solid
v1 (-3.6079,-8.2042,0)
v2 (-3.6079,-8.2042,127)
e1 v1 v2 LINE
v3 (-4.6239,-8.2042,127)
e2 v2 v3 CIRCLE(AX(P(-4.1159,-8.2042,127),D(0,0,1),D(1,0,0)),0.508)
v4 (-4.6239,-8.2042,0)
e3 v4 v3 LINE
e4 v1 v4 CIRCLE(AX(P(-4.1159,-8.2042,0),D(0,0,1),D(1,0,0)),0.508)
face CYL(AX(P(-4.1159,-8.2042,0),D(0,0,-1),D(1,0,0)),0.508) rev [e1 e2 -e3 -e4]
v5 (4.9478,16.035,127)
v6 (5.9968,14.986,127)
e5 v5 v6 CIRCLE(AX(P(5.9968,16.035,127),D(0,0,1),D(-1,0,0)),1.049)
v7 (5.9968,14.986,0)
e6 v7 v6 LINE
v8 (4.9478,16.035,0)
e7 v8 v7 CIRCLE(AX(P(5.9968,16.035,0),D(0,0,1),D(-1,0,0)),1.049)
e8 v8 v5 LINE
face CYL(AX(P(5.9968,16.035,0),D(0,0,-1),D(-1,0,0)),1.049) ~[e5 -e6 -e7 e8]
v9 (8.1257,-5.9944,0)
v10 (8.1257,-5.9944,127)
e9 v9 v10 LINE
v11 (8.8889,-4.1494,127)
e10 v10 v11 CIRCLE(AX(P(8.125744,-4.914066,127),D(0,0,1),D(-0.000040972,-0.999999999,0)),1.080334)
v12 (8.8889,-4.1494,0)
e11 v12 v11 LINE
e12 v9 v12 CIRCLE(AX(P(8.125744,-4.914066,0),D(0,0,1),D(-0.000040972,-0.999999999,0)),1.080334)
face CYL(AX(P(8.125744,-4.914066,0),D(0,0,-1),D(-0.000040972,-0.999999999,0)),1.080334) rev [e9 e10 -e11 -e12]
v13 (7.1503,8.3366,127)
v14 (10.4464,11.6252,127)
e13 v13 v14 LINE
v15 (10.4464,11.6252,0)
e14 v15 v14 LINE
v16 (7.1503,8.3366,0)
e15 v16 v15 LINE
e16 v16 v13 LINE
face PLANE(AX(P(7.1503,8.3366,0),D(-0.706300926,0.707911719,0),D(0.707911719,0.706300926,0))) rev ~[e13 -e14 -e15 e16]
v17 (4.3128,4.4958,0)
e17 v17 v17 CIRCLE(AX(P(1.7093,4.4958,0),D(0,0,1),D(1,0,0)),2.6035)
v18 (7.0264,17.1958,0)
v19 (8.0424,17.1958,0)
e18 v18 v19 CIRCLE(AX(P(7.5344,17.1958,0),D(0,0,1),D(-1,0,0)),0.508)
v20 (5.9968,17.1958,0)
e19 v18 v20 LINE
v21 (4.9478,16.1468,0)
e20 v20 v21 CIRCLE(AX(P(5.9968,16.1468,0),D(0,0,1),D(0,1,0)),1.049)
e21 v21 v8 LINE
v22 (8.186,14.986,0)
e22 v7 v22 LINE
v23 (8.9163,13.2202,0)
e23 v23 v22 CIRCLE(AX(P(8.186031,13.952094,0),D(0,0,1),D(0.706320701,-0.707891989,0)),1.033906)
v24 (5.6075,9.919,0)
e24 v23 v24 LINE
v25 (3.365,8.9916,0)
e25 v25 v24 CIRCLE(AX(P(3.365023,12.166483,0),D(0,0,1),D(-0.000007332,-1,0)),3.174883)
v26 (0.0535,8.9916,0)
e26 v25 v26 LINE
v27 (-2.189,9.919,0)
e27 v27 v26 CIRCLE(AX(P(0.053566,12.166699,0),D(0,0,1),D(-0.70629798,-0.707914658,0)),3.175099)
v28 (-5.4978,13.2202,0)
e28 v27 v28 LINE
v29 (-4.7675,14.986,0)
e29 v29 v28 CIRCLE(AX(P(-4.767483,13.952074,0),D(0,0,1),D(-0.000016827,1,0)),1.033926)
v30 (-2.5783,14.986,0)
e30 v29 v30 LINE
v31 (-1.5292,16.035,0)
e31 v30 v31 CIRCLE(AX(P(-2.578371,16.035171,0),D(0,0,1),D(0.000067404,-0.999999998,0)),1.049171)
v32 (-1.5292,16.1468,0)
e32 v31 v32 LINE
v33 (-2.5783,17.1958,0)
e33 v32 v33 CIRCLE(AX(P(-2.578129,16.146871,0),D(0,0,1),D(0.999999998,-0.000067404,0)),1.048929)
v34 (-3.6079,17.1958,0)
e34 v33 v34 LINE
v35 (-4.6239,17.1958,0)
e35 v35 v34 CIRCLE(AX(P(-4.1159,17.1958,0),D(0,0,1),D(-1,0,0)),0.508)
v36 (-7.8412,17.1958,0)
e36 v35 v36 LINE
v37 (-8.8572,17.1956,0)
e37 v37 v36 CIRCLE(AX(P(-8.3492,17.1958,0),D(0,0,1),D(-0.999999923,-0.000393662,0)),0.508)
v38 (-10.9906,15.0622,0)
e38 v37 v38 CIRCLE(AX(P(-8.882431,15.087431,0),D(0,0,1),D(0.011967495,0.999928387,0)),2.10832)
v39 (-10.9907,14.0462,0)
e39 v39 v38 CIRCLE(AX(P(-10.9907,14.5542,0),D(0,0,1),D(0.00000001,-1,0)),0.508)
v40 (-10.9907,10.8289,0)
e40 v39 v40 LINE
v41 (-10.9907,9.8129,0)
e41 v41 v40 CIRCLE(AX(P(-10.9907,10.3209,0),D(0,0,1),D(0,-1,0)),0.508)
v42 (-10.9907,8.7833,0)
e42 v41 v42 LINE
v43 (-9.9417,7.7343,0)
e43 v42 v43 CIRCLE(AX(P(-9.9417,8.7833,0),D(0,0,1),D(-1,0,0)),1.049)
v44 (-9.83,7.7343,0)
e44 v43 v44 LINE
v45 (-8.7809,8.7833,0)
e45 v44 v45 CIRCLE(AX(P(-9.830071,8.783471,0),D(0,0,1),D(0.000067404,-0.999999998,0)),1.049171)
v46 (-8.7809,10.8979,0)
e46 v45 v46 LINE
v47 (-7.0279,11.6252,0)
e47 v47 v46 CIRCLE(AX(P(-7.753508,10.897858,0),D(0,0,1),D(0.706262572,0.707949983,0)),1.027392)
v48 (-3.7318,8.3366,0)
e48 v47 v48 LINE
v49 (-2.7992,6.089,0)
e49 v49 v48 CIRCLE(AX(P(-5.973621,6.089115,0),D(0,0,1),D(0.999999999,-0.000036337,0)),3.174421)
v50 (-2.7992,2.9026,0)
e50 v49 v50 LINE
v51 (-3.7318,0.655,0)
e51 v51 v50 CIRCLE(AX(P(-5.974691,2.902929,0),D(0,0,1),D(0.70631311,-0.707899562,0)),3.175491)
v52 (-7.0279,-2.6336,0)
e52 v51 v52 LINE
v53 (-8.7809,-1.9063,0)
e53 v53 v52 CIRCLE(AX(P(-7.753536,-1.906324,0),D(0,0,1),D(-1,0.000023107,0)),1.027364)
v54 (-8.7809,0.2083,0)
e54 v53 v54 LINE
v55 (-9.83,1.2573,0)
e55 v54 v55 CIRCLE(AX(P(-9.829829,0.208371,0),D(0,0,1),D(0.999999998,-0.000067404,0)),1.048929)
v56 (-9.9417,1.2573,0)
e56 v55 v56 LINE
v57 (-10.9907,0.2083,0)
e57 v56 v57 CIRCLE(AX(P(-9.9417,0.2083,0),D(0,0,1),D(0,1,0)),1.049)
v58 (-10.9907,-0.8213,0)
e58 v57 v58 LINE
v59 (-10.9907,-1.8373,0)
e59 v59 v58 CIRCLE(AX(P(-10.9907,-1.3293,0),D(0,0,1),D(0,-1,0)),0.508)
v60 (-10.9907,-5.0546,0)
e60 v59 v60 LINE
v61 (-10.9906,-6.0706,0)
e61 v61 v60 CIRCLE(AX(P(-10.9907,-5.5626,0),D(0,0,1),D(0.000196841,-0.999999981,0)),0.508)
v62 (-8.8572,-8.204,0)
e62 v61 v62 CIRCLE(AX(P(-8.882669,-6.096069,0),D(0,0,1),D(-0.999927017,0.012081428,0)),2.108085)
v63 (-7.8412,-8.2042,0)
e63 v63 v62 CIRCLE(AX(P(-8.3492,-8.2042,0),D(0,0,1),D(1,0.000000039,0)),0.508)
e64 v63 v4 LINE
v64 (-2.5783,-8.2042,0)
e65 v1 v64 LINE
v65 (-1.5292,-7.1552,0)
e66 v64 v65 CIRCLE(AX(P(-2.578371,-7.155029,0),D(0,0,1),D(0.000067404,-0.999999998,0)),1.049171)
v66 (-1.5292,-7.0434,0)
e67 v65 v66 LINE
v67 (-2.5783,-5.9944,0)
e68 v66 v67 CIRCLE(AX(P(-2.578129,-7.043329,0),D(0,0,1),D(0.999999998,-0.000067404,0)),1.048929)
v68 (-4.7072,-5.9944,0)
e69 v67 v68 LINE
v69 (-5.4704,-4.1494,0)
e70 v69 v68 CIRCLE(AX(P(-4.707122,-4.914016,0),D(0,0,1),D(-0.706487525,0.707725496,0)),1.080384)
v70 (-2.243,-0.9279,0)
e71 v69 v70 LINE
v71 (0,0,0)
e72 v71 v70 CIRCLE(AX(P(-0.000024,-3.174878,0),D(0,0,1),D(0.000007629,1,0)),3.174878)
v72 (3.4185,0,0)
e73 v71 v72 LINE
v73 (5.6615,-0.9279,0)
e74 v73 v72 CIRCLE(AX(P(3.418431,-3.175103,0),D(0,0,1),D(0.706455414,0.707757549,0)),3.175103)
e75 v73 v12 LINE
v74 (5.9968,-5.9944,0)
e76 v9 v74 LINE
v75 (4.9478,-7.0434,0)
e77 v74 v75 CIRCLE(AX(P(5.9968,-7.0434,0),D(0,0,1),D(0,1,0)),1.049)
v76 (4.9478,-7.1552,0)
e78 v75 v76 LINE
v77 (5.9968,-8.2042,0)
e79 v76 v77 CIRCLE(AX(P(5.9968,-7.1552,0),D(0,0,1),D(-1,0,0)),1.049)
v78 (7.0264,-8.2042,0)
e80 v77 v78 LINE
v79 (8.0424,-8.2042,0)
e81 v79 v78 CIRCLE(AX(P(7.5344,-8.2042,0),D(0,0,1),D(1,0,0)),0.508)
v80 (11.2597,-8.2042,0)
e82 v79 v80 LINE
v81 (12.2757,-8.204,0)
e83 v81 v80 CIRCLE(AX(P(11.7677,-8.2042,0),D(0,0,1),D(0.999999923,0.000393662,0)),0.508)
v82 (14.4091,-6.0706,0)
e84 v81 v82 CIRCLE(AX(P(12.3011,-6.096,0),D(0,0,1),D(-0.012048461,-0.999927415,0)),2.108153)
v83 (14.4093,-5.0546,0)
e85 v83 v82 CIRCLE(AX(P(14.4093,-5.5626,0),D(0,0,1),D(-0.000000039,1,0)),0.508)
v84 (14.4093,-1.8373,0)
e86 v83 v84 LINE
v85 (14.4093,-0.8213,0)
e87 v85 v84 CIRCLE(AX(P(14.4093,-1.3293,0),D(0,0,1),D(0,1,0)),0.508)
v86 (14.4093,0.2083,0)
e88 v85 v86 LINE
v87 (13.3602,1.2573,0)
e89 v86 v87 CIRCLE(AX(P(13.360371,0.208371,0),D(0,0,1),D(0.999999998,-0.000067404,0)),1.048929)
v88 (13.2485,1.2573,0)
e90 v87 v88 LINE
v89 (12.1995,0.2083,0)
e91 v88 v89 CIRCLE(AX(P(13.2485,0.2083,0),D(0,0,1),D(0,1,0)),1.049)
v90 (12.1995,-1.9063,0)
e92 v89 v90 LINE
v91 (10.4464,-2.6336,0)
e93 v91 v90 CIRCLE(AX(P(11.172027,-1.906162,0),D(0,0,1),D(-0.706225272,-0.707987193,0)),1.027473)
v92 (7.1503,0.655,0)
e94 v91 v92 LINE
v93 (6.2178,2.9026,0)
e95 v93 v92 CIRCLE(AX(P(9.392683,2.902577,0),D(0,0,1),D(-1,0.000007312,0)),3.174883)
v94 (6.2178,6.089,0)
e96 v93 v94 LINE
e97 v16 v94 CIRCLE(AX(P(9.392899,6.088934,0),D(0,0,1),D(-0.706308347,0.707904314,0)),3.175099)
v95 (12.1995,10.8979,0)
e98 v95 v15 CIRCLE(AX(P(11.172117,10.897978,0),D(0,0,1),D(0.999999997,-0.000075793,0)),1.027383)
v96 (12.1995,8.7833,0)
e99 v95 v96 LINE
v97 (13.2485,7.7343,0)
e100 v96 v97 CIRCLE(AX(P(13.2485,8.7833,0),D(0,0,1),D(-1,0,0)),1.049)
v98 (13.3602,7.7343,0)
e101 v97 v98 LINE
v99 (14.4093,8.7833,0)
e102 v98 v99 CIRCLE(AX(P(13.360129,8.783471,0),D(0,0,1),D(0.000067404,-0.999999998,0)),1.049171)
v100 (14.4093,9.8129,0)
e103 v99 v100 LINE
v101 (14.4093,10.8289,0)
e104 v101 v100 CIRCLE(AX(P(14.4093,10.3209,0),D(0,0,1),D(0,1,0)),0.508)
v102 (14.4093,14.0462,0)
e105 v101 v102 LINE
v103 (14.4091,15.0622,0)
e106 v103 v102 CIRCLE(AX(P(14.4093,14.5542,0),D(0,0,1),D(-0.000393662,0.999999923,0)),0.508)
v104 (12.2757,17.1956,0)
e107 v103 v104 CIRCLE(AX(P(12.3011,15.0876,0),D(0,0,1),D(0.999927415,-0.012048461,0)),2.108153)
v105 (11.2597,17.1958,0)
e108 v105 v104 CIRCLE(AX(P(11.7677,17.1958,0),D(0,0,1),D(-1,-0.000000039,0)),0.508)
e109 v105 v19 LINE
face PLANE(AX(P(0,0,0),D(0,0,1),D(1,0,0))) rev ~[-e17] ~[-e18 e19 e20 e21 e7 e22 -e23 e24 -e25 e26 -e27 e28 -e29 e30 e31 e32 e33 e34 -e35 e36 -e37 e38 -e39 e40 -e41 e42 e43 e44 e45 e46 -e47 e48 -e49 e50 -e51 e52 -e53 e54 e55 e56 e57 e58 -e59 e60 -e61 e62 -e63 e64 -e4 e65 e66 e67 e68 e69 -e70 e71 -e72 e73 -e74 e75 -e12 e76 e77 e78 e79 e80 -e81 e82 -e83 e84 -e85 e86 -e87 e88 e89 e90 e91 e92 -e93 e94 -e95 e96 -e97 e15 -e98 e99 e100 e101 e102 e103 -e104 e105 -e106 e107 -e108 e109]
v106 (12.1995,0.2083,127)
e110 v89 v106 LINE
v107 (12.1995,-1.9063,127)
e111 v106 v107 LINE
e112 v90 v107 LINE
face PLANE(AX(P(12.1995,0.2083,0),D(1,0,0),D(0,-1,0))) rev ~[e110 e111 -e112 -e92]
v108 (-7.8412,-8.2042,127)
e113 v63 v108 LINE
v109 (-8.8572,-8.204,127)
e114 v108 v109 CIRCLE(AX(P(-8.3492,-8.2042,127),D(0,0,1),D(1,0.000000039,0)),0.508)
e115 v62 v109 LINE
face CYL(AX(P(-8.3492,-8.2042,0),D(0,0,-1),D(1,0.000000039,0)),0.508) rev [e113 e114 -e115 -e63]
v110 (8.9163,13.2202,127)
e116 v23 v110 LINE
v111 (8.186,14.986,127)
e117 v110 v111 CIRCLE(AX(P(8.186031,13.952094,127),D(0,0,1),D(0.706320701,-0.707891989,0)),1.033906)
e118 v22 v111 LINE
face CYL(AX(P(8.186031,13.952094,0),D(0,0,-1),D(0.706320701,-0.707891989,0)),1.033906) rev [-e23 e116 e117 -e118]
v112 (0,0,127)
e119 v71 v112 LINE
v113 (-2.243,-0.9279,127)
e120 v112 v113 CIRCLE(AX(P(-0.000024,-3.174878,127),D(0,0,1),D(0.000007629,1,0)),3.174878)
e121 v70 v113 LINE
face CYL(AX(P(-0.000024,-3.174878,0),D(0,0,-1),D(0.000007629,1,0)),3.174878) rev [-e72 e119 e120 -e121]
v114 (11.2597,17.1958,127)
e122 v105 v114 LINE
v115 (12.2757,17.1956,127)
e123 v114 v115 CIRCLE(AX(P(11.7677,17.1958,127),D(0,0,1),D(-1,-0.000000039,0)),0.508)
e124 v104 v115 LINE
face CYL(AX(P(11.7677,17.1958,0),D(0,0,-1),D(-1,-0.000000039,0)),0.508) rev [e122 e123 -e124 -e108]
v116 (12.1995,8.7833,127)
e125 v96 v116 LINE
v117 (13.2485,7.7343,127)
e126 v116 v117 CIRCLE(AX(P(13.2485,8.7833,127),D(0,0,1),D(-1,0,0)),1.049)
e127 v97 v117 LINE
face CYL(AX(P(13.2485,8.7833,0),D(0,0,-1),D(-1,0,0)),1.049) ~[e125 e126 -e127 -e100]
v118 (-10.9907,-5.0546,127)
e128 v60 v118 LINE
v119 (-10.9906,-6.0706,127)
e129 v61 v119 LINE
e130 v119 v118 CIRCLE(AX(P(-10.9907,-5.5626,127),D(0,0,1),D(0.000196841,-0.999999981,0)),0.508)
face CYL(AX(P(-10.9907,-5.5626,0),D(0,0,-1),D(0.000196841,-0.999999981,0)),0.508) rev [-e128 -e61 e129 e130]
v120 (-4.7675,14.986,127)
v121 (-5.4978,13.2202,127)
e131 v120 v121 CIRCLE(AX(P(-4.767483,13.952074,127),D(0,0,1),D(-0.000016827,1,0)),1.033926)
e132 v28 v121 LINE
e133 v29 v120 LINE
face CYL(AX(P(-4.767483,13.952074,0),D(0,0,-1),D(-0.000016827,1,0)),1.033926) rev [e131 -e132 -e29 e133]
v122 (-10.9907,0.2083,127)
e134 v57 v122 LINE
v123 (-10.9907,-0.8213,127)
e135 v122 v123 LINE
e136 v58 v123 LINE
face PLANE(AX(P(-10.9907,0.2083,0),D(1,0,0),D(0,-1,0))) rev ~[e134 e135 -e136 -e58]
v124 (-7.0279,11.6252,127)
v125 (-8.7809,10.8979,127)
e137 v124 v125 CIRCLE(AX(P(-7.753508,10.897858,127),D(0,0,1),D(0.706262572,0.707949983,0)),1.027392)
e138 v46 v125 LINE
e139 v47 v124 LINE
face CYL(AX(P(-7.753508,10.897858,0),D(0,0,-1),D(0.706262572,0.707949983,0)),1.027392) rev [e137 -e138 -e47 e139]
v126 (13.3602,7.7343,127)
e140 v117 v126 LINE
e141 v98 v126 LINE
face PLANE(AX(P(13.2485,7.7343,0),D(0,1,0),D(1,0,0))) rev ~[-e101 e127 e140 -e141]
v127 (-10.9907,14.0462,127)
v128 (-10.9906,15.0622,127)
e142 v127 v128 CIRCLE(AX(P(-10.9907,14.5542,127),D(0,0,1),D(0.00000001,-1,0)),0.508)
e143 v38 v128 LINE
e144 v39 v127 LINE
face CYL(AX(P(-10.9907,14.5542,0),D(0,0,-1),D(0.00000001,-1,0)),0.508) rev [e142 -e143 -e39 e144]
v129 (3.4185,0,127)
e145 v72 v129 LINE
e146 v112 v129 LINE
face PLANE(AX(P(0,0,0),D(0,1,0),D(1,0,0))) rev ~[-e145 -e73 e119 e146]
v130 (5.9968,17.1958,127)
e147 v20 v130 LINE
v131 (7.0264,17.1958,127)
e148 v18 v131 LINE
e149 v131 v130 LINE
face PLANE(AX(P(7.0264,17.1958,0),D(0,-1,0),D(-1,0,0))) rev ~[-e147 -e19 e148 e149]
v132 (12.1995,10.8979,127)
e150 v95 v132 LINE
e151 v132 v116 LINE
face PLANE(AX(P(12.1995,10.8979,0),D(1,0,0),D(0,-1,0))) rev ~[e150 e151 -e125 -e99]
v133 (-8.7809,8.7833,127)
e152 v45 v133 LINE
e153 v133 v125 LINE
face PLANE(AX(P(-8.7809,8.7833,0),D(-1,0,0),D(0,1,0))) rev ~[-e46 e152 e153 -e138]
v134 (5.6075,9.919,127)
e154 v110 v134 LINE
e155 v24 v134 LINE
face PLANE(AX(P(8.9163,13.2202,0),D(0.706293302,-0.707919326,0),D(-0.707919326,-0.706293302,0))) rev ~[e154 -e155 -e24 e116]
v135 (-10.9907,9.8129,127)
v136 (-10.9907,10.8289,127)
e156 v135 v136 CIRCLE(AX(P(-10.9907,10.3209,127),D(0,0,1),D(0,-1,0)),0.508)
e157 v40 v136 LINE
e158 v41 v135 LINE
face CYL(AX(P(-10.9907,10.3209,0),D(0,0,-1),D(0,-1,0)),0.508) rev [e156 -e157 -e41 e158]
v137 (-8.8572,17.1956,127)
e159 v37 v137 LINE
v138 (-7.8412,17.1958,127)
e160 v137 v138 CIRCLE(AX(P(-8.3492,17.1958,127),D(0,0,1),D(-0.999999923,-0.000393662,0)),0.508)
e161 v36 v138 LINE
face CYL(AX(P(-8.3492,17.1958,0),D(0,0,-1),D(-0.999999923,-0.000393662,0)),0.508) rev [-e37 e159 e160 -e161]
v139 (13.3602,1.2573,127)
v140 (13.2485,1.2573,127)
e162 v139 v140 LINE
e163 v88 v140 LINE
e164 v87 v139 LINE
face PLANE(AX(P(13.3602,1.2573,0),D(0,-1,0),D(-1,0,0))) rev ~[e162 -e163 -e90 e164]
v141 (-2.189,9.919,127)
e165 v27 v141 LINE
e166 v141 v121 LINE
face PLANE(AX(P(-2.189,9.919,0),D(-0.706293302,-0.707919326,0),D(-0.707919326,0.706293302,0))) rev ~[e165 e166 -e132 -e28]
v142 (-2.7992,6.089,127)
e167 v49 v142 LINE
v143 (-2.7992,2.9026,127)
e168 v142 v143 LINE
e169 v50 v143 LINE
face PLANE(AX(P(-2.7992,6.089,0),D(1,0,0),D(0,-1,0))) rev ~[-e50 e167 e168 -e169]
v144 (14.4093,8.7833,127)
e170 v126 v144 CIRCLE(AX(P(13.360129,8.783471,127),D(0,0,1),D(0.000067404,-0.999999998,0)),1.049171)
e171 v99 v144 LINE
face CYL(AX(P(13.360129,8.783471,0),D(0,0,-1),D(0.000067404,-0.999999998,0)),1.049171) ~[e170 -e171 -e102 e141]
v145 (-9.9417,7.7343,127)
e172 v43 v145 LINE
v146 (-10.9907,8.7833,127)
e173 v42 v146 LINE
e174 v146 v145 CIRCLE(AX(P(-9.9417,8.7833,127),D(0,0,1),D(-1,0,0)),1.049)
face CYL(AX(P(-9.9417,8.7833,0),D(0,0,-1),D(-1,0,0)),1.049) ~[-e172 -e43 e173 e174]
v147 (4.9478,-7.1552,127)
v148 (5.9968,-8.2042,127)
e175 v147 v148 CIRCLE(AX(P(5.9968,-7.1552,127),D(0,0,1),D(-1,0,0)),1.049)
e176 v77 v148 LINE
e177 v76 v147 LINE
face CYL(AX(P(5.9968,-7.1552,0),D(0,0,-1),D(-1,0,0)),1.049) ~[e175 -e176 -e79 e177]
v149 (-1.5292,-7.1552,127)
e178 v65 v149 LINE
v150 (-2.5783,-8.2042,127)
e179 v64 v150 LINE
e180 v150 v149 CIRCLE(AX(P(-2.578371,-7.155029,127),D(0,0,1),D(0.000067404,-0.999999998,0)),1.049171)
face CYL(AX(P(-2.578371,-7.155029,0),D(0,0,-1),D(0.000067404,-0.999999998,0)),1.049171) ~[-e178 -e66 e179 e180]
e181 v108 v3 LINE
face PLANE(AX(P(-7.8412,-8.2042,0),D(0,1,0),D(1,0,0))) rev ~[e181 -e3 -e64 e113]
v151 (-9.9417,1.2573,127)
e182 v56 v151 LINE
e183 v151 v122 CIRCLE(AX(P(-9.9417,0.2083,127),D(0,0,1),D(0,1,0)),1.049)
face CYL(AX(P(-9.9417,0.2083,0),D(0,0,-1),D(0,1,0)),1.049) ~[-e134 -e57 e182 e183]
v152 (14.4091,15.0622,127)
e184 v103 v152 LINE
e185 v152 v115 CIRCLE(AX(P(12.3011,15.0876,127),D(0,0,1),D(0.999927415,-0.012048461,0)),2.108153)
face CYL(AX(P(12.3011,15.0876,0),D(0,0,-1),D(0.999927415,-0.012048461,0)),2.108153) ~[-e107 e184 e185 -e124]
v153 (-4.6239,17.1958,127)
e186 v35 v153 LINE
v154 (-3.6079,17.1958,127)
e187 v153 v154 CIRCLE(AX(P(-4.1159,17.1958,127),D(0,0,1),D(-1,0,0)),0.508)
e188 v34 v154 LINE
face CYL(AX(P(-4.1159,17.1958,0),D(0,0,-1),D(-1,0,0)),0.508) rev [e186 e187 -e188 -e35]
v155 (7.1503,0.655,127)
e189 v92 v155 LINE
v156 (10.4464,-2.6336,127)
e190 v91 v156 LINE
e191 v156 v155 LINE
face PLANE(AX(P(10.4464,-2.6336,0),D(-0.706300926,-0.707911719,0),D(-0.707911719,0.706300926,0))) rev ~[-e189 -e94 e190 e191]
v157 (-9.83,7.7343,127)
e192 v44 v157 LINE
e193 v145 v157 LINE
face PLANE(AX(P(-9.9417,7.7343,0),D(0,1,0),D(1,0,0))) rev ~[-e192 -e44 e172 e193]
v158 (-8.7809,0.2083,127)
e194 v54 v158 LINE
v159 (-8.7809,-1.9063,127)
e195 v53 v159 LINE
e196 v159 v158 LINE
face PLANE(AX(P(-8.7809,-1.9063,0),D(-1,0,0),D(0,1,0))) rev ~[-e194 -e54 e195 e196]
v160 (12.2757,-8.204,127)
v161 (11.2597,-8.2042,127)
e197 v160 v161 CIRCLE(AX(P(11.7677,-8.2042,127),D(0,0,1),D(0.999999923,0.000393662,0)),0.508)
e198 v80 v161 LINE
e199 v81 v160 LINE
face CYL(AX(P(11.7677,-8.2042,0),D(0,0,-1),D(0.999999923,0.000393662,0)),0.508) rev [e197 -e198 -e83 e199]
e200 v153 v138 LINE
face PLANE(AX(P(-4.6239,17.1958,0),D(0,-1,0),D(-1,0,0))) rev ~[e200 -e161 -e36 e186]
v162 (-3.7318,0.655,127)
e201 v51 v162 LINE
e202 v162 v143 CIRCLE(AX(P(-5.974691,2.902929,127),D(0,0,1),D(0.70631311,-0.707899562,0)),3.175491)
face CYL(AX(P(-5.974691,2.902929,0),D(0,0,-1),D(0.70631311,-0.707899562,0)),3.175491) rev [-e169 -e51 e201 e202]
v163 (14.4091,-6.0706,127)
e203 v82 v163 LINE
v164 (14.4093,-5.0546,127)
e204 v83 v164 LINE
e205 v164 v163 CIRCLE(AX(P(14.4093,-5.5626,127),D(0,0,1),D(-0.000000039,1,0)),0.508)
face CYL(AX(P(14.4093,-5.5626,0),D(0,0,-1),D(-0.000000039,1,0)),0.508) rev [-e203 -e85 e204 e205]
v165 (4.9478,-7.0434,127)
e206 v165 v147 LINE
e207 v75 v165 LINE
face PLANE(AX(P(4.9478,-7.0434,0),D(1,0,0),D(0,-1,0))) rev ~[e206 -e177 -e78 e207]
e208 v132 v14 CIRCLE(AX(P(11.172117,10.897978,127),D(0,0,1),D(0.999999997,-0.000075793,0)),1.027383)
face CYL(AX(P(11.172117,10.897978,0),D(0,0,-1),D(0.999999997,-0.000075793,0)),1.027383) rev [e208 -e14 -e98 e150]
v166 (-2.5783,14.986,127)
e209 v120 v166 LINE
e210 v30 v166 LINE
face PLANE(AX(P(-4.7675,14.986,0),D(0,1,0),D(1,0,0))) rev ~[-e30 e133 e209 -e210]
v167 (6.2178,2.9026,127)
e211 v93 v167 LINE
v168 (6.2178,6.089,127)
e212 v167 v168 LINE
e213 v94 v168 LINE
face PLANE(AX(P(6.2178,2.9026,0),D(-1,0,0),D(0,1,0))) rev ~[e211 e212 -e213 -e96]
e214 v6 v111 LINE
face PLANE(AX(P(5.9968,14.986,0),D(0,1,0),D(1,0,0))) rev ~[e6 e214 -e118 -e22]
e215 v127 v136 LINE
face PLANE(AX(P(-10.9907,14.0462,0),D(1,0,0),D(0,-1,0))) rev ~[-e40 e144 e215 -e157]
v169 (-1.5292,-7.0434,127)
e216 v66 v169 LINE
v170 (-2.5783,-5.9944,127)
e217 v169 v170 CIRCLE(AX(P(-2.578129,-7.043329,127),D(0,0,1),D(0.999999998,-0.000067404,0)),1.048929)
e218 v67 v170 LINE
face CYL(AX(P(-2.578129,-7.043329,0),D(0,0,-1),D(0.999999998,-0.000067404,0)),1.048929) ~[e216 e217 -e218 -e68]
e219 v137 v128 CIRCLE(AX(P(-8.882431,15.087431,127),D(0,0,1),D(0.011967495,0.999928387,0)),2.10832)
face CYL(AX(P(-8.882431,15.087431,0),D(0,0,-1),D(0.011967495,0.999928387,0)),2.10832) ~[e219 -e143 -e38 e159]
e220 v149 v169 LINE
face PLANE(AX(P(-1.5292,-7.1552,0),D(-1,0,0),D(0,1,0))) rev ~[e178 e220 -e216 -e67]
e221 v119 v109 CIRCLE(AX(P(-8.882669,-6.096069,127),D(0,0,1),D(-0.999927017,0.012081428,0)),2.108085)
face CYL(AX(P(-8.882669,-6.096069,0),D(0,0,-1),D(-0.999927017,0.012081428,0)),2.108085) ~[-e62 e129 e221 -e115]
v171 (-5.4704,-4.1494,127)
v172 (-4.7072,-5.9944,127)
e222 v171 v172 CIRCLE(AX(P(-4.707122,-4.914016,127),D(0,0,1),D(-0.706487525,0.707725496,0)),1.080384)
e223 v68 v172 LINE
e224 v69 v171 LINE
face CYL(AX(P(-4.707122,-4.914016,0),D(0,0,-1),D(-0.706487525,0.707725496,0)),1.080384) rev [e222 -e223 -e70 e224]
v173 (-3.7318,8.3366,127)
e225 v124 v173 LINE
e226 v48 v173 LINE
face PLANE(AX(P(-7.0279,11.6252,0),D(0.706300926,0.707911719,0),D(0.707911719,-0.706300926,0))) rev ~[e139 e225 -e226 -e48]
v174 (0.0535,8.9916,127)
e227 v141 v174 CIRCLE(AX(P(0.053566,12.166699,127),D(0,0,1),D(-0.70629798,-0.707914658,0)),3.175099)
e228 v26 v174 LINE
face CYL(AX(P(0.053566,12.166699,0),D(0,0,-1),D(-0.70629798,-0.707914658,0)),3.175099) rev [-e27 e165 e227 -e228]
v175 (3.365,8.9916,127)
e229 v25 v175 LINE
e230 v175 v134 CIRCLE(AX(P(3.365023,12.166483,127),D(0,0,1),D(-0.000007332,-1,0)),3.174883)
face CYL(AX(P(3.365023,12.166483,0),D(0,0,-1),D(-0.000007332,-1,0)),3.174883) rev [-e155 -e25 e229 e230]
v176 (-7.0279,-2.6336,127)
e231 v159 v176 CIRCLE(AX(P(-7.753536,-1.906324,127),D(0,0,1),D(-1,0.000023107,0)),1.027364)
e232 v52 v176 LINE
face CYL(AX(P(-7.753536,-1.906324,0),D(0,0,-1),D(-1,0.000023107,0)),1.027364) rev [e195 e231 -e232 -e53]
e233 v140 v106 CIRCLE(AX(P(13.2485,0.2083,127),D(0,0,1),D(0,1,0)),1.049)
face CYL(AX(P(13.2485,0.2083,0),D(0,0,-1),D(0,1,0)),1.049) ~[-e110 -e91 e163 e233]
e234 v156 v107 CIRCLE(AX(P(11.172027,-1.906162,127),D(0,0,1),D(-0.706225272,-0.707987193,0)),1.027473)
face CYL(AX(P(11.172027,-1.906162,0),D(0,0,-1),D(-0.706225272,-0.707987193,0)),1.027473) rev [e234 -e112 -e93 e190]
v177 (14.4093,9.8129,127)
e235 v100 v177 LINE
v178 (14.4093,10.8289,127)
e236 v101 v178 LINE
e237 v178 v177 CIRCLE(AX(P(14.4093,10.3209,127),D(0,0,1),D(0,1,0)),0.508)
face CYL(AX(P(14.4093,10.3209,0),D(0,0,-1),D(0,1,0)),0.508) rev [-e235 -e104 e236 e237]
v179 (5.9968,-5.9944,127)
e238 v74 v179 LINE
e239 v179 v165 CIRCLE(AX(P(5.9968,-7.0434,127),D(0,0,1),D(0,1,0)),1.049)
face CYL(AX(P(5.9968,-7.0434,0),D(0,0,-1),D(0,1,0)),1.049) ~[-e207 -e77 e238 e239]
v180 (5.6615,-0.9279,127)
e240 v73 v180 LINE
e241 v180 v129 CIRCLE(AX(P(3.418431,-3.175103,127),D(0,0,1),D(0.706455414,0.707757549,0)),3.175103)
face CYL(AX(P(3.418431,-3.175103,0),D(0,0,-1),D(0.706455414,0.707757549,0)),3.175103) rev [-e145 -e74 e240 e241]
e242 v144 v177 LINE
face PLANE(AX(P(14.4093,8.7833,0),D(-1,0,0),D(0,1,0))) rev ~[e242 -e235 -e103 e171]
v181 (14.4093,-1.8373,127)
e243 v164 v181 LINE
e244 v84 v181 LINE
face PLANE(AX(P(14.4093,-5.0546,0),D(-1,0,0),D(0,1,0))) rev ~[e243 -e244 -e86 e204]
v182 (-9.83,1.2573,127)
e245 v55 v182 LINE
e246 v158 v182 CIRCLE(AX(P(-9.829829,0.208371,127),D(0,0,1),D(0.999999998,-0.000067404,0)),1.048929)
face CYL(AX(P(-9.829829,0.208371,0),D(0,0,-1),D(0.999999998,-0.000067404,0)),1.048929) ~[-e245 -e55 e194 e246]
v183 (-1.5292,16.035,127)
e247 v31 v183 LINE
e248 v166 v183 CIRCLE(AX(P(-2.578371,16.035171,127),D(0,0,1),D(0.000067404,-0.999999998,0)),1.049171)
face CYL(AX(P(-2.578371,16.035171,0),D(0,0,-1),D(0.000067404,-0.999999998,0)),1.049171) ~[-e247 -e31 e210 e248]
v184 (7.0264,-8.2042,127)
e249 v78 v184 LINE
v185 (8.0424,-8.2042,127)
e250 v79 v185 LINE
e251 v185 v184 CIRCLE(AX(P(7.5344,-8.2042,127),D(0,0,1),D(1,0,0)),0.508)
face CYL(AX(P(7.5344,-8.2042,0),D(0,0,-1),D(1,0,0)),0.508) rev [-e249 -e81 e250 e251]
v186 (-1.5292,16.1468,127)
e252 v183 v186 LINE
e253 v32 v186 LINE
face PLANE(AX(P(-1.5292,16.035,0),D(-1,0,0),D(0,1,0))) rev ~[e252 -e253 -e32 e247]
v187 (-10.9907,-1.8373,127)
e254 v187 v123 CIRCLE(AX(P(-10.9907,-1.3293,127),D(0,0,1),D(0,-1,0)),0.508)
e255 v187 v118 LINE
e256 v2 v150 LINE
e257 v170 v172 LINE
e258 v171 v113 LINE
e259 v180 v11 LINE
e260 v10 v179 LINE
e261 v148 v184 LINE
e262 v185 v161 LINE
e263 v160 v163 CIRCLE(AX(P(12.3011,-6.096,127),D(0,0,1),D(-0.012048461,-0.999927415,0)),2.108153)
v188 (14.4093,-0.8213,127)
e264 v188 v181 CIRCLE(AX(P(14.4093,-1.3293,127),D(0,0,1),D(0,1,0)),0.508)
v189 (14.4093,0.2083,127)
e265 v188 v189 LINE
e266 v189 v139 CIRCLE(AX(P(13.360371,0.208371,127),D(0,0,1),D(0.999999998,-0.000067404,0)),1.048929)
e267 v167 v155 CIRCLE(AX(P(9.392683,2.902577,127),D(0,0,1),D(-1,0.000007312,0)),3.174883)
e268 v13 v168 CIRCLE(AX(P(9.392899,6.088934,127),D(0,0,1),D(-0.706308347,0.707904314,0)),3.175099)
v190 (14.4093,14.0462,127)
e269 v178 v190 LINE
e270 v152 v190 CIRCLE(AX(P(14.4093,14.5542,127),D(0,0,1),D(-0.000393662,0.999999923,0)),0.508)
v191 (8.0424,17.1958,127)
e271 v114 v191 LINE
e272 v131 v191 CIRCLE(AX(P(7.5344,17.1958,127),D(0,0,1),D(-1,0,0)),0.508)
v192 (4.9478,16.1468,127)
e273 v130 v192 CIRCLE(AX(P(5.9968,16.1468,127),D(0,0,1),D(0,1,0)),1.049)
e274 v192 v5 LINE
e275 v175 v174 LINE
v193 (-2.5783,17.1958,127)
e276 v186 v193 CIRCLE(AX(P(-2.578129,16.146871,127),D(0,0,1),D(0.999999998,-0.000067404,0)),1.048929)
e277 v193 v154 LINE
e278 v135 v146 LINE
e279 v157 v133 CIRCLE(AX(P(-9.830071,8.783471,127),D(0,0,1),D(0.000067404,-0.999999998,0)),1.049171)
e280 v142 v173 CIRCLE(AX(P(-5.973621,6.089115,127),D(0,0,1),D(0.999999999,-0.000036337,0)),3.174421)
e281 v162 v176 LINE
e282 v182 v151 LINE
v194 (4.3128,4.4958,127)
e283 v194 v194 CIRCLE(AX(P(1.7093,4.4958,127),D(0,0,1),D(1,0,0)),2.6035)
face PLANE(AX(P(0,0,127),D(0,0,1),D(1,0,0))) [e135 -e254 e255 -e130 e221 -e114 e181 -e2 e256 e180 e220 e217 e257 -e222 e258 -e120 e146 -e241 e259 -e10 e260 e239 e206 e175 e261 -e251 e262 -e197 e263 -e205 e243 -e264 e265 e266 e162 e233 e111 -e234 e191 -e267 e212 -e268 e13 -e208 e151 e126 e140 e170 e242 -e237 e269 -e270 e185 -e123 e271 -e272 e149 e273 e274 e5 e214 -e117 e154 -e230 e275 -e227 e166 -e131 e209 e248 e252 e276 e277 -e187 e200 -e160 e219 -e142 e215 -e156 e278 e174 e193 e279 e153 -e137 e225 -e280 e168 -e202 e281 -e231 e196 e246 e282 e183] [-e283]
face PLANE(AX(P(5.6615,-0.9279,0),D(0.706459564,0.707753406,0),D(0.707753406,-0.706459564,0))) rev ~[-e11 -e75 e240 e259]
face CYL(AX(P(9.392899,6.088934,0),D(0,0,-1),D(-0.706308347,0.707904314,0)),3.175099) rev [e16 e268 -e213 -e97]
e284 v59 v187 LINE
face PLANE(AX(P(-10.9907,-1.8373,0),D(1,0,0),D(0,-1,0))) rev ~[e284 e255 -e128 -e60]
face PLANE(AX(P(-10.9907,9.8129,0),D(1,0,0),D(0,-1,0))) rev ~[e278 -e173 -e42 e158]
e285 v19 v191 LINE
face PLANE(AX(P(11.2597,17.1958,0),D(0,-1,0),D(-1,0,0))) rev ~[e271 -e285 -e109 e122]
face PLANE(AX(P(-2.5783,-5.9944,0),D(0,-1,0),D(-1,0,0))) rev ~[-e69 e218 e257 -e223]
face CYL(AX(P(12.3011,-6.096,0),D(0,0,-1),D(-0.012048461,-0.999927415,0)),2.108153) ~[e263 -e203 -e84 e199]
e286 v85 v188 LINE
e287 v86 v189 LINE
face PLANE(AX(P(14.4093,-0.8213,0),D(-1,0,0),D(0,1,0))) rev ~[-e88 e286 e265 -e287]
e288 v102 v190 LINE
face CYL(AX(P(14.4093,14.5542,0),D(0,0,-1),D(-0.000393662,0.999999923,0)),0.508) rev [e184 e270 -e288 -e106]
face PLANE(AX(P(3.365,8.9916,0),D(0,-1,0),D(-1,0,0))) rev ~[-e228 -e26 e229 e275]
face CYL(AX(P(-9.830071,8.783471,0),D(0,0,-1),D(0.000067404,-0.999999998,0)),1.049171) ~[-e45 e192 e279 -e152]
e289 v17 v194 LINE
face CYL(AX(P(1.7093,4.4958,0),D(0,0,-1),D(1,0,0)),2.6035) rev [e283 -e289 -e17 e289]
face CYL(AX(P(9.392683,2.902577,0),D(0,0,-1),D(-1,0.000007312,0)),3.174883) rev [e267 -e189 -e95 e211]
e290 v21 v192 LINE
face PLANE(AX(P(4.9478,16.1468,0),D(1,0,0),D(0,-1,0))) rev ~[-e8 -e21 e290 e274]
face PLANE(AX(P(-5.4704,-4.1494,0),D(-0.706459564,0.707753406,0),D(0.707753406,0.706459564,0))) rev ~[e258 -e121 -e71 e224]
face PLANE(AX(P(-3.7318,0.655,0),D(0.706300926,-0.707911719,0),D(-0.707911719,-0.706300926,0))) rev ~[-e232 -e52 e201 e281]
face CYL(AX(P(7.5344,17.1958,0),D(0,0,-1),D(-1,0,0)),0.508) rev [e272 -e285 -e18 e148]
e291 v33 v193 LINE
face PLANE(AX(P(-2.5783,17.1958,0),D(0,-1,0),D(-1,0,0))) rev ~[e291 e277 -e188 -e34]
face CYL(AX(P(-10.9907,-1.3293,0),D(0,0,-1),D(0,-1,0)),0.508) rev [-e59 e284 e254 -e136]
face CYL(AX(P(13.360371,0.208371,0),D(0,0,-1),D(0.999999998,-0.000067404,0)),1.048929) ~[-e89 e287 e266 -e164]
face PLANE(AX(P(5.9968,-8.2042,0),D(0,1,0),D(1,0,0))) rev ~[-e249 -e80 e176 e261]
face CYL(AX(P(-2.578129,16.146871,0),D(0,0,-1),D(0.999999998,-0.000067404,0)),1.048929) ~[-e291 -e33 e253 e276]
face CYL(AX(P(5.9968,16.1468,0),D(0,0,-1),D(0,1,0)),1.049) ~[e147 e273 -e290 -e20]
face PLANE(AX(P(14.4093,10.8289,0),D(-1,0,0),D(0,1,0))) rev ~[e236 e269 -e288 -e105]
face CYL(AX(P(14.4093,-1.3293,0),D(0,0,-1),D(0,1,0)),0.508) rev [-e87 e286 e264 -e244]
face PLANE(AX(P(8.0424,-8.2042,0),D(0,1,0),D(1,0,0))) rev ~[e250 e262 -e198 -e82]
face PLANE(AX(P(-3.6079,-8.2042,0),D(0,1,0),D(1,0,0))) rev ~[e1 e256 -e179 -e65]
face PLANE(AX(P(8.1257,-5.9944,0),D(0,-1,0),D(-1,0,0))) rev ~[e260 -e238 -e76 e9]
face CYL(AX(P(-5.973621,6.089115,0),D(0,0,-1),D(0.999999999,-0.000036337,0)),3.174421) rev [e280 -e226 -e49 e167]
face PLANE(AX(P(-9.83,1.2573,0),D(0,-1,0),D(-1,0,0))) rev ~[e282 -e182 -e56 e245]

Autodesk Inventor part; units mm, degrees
ref_plane "YZ Plane" through (0, 0, 0) normal (1, 0, 0) x (0, 1, 0)
ref_plane "XZ Plane" through (0, 0, 0) normal (0, 1, 0) x (-1, 0, 0)
ref_plane "XY Plane" through (0, 0, 0) normal (0, 0, 1) x (1, 0, 0)
sketch "Sketch1" plane through (0, 0, 0) normal (0, 0, 1) x (1, 0, 0)
  arc A0 (-5.4704, -4.1494) -> (-4.7072, -5.9944) centre (-4.7072, -4.914) ccw
  line L0 (-5.4704, -4.1494) -> (-2.243, -0.9279)
  arc A1 (0, 0) -> (-2.243, -0.9279) centre (0, -3.175) ccw
  line L1 (0, 0) -> (3.4185, 0)
  arc A2 (5.6615, -0.9279) -> (3.4185, 0) centre (3.4185, -3.175) ccw
  line L2 (5.6615, -0.9279) -> (8.8889, -4.1494)
  arc A3 (8.1257, -5.9944) -> (8.8889, -4.1494) centre (8.1257, -4.914) ccw
  line L3 (8.1257, -5.9944) -> (5.9968, -5.9944)
  arc A4 (5.9968, -5.9944) -> (4.9478, -7.0434) centre (5.9968, -7.0434) ccw
  line L4 (4.9478, -7.0434) -> (4.9478, -7.1552)
  arc A5 (4.9478, -7.1552) -> (5.9968, -8.2042) centre (5.9968, -7.1552) ccw
  line L5 (5.9968, -8.2042) -> (7.0264, -8.2042)
  arc A6 (8.0424, -8.2042) -> (7.0264, -8.2042) centre (7.5344, -8.2042) ccw
  line L6 (8.0424, -8.2042) -> (11.2597, -8.2042)
  arc A7 (12.2757, -8.204) -> (11.2597, -8.2042) centre (11.7677, -8.2042) ccw
  arc A8 (12.2757, -8.204) -> (14.4091, -6.0706) centre (12.3011, -6.096) ccw
  arc A9 (14.4093, -5.0546) -> (14.4091, -6.0706) centre (14.4093, -5.5626) ccw
  line L7 (14.4093, -5.0546) -> (14.4093, -1.8373)
  arc A10 (14.4093, -0.8213) -> (14.4093, -1.8373) centre (14.4093, -1.3293) ccw
  line L8 (14.4093, -0.8213) -> (14.4093, 0.2083)
  arc A11 (14.4093, 0.2083) -> (13.3602, 1.2573) centre (13.3602, 0.2083) ccw
  line L9 (13.3602, 1.2573) -> (13.2485, 1.2573)
  arc A12 (13.2485, 1.2573) -> (12.1995, 0.2083) centre (13.2485, 0.2083) ccw
  line L10 (12.1995, 0.2083) -> (12.1995, -1.9063)
  arc A13 (10.4464, -2.6336) -> (12.1995, -1.9063) centre (11.172, -1.9063) ccw
  line L11 (10.4464, -2.6336) -> (7.1503, 0.655)
  arc A14 (6.2178, 2.9026) -> (7.1503, 0.655) centre (9.3928, 2.9026) ccw
  line L12 (6.2178, 2.9026) -> (6.2178, 6.089)
  arc A15 (7.1503, 8.3366) -> (6.2178, 6.089) centre (9.3928, 6.089) ccw
  line L13 (7.1503, 8.3366) -> (10.4464, 11.6252)
  arc A16 (12.1995, 10.8979) -> (10.4464, 11.6252) centre (11.172, 10.8979) ccw
  line L14 (12.1995, 10.8979) -> (12.1995, 8.7833)
  arc A17 (12.1995, 8.7833) -> (13.2485, 7.7343) centre (13.2485, 8.7833) ccw
  line L15 (13.2485, 7.7343) -> (13.3602, 7.7343)
  arc A18 (13.3602, 7.7343) -> (14.4093, 8.7833) centre (13.3602, 8.7833) ccw
  line L16 (14.4093, 8.7833) -> (14.4093, 9.8129)
  arc A19 (14.4093, 10.8289) -> (14.4093, 9.8129) centre (14.4093, 10.3209) ccw
  line L17 (14.4093, 10.8289) -> (14.4093, 14.0462)
  arc A20 (14.4091, 15.0622) -> (14.4093, 14.0462) centre (14.4093, 14.5542) ccw
  arc A21 (14.4091, 15.0622) -> (12.2757, 17.1956) centre (12.3011, 15.0876) ccw
  arc A22 (11.2597, 17.1958) -> (12.2757, 17.1956) centre (11.7677, 17.1958) ccw
  line L18 (11.2597, 17.1958) -> (8.0424, 17.1958)
  arc A23 (7.0264, 17.1958) -> (8.0424, 17.1958) centre (7.5344, 17.1958) ccw
  line L19 (7.0264, 17.1958) -> (5.9968, 17.1958)
  arc A24 (5.9968, 17.1958) -> (4.9478, 16.1468) centre (5.9968, 16.1468) ccw
  line L20 (4.9478, 16.1468) -> (4.9478, 16.035)
  arc A25 (4.9478, 16.035) -> (5.9968, 14.986) centre (5.9968, 16.035) ccw
  line L21 (5.9968, 14.986) -> (8.186, 14.986)
  arc A26 (8.9163, 13.2202) -> (8.186, 14.986) centre (8.186, 13.9521) ccw
  line L22 (8.9163, 13.2202) -> (5.6075, 9.919)
  arc A27 (3.365, 8.9916) -> (5.6075, 9.919) centre (3.365, 12.1666) ccw
  line L23 (3.365, 8.9916) -> (0.0535, 8.9916)
  arc A28 (-2.189, 9.919) -> (0.0535, 8.9916) centre (0.0535, 12.1666) ccw
  line L24 (-2.189, 9.919) -> (-5.4978, 13.2202)
  arc A29 (-4.7675, 14.986) -> (-5.4978, 13.2202) centre (-4.7675, 13.9521) ccw
  line L25 (-4.7675, 14.986) -> (-2.5783, 14.986)
  arc A30 (-2.5783, 14.986) -> (-1.5292, 16.035) centre (-2.5783, 16.035) ccw
  line L26 (-1.5292, 16.035) -> (-1.5292, 16.1468)
  arc A31 (-1.5292, 16.1468) -> (-2.5783, 17.1958) centre (-2.5783, 16.1468) ccw
  line L27 (-2.5783, 17.1958) -> (-3.6079, 17.1958)
  arc A32 (-4.6239, 17.1958) -> (-3.6079, 17.1958) centre (-4.1159, 17.1958) ccw
  line L28 (-4.6239, 17.1958) -> (-7.8412, 17.1958)
  arc A33 (-8.8572, 17.1956) -> (-7.8412, 17.1958) centre (-8.3492, 17.1958) ccw
  arc A34 (-8.8572, 17.1956) -> (-10.9906, 15.0622) centre (-8.8825, 15.0876) ccw
  arc A35 (-10.9907, 14.0462) -> (-10.9906, 15.0622) centre (-10.9907, 14.5542) ccw
  line L29 (-10.9907, 14.0462) -> (-10.9907, 10.8289)
  arc A36 (-10.9907, 9.8129) -> (-10.9907, 10.8289) centre (-10.9907, 10.3209) ccw
  line L30 (-10.9907, 9.8129) -> (-10.9907, 8.7833)
  arc A37 (-10.9907, 8.7833) -> (-9.9417, 7.7343) centre (-9.9417, 8.7833) ccw
  line L31 (-9.9417, 7.7343) -> (-9.83, 7.7343)
  arc A38 (-9.83, 7.7343) -> (-8.7809, 8.7833) centre (-9.83, 8.7833) ccw
  line L32 (-8.7809, 8.7833) -> (-8.7809, 10.8979)
  arc A39 (-7.0279, 11.6252) -> (-8.7809, 10.8979) centre (-7.7535, 10.8979) ccw
  line L33 (-7.0279, 11.6252) -> (-3.7318, 8.3366)
  arc A40 (-2.7992, 6.089) -> (-3.7318, 8.3366) centre (-5.9742, 6.089) ccw
  line L34 (-2.7992, 6.089) -> (-2.7992, 2.9026)
  arc A41 (-3.7318, 0.655) -> (-2.7992, 2.9026) centre (-5.9742, 2.9026) ccw
  line L35 (-3.7318, 0.655) -> (-7.0279, -2.6336)
  arc A42 (-8.7809, -1.9063) -> (-7.0279, -2.6336) centre (-7.7535, -1.9063) ccw
  line L36 (-8.7809, -1.9063) -> (-8.7809, 0.2083)
  arc A43 (-8.7809, 0.2083) -> (-9.83, 1.2573) centre (-9.83, 0.2083) ccw
  line L37 (-9.83, 1.2573) -> (-9.9417, 1.2573)
  arc A44 (-9.9417, 1.2573) -> (-10.9907, 0.2083) centre (-9.9417, 0.2083) ccw
  line L38 (-10.9907, 0.2083) -> (-10.9907, -0.8213)
  arc A45 (-10.9907, -1.8373) -> (-10.9907, -0.8213) centre (-10.9907, -1.3293) ccw
  line L39 (-10.9907, -1.8373) -> (-10.9907, -5.0546)
  arc A46 (-10.9906, -6.0706) -> (-10.9907, -5.0546) centre (-10.9907, -5.5626) ccw
  arc A47 (-10.9906, -6.0706) -> (-8.8572, -8.204) centre (-8.8825, -6.096) ccw
  arc A48 (-7.8412, -8.2042) -> (-8.8572, -8.204) centre (-8.3492, -8.2042) ccw
  line L40 (-7.8412, -8.2042) -> (-4.6239, -8.2042)
  arc A49 (-3.6079, -8.2042) -> (-4.6239, -8.2042) centre (-4.1159, -8.2042) ccw
  line L41 (-3.6079, -8.2042) -> (-2.5783, -8.2042)
  arc A50 (-2.5783, -8.2042) -> (-1.5292, -7.1552) centre (-2.5783, -7.1552) ccw
  line L42 (-1.5292, -7.1552) -> (-1.5292, -7.0434)
  arc A51 (-1.5292, -7.0434) -> (-2.5783, -5.9944) centre (-2.5783, -7.0434) ccw
  line L43 (-2.5783, -5.9944) -> (-4.7072, -5.9944)
  circle A52 centre (1.7093, 4.4958) radius 2.6035
extrude "Extrusion1" add sketch "Sketch1" along normal blind 127
properties part number "5in 1x1 T slot" material "Steel, Alloy"
